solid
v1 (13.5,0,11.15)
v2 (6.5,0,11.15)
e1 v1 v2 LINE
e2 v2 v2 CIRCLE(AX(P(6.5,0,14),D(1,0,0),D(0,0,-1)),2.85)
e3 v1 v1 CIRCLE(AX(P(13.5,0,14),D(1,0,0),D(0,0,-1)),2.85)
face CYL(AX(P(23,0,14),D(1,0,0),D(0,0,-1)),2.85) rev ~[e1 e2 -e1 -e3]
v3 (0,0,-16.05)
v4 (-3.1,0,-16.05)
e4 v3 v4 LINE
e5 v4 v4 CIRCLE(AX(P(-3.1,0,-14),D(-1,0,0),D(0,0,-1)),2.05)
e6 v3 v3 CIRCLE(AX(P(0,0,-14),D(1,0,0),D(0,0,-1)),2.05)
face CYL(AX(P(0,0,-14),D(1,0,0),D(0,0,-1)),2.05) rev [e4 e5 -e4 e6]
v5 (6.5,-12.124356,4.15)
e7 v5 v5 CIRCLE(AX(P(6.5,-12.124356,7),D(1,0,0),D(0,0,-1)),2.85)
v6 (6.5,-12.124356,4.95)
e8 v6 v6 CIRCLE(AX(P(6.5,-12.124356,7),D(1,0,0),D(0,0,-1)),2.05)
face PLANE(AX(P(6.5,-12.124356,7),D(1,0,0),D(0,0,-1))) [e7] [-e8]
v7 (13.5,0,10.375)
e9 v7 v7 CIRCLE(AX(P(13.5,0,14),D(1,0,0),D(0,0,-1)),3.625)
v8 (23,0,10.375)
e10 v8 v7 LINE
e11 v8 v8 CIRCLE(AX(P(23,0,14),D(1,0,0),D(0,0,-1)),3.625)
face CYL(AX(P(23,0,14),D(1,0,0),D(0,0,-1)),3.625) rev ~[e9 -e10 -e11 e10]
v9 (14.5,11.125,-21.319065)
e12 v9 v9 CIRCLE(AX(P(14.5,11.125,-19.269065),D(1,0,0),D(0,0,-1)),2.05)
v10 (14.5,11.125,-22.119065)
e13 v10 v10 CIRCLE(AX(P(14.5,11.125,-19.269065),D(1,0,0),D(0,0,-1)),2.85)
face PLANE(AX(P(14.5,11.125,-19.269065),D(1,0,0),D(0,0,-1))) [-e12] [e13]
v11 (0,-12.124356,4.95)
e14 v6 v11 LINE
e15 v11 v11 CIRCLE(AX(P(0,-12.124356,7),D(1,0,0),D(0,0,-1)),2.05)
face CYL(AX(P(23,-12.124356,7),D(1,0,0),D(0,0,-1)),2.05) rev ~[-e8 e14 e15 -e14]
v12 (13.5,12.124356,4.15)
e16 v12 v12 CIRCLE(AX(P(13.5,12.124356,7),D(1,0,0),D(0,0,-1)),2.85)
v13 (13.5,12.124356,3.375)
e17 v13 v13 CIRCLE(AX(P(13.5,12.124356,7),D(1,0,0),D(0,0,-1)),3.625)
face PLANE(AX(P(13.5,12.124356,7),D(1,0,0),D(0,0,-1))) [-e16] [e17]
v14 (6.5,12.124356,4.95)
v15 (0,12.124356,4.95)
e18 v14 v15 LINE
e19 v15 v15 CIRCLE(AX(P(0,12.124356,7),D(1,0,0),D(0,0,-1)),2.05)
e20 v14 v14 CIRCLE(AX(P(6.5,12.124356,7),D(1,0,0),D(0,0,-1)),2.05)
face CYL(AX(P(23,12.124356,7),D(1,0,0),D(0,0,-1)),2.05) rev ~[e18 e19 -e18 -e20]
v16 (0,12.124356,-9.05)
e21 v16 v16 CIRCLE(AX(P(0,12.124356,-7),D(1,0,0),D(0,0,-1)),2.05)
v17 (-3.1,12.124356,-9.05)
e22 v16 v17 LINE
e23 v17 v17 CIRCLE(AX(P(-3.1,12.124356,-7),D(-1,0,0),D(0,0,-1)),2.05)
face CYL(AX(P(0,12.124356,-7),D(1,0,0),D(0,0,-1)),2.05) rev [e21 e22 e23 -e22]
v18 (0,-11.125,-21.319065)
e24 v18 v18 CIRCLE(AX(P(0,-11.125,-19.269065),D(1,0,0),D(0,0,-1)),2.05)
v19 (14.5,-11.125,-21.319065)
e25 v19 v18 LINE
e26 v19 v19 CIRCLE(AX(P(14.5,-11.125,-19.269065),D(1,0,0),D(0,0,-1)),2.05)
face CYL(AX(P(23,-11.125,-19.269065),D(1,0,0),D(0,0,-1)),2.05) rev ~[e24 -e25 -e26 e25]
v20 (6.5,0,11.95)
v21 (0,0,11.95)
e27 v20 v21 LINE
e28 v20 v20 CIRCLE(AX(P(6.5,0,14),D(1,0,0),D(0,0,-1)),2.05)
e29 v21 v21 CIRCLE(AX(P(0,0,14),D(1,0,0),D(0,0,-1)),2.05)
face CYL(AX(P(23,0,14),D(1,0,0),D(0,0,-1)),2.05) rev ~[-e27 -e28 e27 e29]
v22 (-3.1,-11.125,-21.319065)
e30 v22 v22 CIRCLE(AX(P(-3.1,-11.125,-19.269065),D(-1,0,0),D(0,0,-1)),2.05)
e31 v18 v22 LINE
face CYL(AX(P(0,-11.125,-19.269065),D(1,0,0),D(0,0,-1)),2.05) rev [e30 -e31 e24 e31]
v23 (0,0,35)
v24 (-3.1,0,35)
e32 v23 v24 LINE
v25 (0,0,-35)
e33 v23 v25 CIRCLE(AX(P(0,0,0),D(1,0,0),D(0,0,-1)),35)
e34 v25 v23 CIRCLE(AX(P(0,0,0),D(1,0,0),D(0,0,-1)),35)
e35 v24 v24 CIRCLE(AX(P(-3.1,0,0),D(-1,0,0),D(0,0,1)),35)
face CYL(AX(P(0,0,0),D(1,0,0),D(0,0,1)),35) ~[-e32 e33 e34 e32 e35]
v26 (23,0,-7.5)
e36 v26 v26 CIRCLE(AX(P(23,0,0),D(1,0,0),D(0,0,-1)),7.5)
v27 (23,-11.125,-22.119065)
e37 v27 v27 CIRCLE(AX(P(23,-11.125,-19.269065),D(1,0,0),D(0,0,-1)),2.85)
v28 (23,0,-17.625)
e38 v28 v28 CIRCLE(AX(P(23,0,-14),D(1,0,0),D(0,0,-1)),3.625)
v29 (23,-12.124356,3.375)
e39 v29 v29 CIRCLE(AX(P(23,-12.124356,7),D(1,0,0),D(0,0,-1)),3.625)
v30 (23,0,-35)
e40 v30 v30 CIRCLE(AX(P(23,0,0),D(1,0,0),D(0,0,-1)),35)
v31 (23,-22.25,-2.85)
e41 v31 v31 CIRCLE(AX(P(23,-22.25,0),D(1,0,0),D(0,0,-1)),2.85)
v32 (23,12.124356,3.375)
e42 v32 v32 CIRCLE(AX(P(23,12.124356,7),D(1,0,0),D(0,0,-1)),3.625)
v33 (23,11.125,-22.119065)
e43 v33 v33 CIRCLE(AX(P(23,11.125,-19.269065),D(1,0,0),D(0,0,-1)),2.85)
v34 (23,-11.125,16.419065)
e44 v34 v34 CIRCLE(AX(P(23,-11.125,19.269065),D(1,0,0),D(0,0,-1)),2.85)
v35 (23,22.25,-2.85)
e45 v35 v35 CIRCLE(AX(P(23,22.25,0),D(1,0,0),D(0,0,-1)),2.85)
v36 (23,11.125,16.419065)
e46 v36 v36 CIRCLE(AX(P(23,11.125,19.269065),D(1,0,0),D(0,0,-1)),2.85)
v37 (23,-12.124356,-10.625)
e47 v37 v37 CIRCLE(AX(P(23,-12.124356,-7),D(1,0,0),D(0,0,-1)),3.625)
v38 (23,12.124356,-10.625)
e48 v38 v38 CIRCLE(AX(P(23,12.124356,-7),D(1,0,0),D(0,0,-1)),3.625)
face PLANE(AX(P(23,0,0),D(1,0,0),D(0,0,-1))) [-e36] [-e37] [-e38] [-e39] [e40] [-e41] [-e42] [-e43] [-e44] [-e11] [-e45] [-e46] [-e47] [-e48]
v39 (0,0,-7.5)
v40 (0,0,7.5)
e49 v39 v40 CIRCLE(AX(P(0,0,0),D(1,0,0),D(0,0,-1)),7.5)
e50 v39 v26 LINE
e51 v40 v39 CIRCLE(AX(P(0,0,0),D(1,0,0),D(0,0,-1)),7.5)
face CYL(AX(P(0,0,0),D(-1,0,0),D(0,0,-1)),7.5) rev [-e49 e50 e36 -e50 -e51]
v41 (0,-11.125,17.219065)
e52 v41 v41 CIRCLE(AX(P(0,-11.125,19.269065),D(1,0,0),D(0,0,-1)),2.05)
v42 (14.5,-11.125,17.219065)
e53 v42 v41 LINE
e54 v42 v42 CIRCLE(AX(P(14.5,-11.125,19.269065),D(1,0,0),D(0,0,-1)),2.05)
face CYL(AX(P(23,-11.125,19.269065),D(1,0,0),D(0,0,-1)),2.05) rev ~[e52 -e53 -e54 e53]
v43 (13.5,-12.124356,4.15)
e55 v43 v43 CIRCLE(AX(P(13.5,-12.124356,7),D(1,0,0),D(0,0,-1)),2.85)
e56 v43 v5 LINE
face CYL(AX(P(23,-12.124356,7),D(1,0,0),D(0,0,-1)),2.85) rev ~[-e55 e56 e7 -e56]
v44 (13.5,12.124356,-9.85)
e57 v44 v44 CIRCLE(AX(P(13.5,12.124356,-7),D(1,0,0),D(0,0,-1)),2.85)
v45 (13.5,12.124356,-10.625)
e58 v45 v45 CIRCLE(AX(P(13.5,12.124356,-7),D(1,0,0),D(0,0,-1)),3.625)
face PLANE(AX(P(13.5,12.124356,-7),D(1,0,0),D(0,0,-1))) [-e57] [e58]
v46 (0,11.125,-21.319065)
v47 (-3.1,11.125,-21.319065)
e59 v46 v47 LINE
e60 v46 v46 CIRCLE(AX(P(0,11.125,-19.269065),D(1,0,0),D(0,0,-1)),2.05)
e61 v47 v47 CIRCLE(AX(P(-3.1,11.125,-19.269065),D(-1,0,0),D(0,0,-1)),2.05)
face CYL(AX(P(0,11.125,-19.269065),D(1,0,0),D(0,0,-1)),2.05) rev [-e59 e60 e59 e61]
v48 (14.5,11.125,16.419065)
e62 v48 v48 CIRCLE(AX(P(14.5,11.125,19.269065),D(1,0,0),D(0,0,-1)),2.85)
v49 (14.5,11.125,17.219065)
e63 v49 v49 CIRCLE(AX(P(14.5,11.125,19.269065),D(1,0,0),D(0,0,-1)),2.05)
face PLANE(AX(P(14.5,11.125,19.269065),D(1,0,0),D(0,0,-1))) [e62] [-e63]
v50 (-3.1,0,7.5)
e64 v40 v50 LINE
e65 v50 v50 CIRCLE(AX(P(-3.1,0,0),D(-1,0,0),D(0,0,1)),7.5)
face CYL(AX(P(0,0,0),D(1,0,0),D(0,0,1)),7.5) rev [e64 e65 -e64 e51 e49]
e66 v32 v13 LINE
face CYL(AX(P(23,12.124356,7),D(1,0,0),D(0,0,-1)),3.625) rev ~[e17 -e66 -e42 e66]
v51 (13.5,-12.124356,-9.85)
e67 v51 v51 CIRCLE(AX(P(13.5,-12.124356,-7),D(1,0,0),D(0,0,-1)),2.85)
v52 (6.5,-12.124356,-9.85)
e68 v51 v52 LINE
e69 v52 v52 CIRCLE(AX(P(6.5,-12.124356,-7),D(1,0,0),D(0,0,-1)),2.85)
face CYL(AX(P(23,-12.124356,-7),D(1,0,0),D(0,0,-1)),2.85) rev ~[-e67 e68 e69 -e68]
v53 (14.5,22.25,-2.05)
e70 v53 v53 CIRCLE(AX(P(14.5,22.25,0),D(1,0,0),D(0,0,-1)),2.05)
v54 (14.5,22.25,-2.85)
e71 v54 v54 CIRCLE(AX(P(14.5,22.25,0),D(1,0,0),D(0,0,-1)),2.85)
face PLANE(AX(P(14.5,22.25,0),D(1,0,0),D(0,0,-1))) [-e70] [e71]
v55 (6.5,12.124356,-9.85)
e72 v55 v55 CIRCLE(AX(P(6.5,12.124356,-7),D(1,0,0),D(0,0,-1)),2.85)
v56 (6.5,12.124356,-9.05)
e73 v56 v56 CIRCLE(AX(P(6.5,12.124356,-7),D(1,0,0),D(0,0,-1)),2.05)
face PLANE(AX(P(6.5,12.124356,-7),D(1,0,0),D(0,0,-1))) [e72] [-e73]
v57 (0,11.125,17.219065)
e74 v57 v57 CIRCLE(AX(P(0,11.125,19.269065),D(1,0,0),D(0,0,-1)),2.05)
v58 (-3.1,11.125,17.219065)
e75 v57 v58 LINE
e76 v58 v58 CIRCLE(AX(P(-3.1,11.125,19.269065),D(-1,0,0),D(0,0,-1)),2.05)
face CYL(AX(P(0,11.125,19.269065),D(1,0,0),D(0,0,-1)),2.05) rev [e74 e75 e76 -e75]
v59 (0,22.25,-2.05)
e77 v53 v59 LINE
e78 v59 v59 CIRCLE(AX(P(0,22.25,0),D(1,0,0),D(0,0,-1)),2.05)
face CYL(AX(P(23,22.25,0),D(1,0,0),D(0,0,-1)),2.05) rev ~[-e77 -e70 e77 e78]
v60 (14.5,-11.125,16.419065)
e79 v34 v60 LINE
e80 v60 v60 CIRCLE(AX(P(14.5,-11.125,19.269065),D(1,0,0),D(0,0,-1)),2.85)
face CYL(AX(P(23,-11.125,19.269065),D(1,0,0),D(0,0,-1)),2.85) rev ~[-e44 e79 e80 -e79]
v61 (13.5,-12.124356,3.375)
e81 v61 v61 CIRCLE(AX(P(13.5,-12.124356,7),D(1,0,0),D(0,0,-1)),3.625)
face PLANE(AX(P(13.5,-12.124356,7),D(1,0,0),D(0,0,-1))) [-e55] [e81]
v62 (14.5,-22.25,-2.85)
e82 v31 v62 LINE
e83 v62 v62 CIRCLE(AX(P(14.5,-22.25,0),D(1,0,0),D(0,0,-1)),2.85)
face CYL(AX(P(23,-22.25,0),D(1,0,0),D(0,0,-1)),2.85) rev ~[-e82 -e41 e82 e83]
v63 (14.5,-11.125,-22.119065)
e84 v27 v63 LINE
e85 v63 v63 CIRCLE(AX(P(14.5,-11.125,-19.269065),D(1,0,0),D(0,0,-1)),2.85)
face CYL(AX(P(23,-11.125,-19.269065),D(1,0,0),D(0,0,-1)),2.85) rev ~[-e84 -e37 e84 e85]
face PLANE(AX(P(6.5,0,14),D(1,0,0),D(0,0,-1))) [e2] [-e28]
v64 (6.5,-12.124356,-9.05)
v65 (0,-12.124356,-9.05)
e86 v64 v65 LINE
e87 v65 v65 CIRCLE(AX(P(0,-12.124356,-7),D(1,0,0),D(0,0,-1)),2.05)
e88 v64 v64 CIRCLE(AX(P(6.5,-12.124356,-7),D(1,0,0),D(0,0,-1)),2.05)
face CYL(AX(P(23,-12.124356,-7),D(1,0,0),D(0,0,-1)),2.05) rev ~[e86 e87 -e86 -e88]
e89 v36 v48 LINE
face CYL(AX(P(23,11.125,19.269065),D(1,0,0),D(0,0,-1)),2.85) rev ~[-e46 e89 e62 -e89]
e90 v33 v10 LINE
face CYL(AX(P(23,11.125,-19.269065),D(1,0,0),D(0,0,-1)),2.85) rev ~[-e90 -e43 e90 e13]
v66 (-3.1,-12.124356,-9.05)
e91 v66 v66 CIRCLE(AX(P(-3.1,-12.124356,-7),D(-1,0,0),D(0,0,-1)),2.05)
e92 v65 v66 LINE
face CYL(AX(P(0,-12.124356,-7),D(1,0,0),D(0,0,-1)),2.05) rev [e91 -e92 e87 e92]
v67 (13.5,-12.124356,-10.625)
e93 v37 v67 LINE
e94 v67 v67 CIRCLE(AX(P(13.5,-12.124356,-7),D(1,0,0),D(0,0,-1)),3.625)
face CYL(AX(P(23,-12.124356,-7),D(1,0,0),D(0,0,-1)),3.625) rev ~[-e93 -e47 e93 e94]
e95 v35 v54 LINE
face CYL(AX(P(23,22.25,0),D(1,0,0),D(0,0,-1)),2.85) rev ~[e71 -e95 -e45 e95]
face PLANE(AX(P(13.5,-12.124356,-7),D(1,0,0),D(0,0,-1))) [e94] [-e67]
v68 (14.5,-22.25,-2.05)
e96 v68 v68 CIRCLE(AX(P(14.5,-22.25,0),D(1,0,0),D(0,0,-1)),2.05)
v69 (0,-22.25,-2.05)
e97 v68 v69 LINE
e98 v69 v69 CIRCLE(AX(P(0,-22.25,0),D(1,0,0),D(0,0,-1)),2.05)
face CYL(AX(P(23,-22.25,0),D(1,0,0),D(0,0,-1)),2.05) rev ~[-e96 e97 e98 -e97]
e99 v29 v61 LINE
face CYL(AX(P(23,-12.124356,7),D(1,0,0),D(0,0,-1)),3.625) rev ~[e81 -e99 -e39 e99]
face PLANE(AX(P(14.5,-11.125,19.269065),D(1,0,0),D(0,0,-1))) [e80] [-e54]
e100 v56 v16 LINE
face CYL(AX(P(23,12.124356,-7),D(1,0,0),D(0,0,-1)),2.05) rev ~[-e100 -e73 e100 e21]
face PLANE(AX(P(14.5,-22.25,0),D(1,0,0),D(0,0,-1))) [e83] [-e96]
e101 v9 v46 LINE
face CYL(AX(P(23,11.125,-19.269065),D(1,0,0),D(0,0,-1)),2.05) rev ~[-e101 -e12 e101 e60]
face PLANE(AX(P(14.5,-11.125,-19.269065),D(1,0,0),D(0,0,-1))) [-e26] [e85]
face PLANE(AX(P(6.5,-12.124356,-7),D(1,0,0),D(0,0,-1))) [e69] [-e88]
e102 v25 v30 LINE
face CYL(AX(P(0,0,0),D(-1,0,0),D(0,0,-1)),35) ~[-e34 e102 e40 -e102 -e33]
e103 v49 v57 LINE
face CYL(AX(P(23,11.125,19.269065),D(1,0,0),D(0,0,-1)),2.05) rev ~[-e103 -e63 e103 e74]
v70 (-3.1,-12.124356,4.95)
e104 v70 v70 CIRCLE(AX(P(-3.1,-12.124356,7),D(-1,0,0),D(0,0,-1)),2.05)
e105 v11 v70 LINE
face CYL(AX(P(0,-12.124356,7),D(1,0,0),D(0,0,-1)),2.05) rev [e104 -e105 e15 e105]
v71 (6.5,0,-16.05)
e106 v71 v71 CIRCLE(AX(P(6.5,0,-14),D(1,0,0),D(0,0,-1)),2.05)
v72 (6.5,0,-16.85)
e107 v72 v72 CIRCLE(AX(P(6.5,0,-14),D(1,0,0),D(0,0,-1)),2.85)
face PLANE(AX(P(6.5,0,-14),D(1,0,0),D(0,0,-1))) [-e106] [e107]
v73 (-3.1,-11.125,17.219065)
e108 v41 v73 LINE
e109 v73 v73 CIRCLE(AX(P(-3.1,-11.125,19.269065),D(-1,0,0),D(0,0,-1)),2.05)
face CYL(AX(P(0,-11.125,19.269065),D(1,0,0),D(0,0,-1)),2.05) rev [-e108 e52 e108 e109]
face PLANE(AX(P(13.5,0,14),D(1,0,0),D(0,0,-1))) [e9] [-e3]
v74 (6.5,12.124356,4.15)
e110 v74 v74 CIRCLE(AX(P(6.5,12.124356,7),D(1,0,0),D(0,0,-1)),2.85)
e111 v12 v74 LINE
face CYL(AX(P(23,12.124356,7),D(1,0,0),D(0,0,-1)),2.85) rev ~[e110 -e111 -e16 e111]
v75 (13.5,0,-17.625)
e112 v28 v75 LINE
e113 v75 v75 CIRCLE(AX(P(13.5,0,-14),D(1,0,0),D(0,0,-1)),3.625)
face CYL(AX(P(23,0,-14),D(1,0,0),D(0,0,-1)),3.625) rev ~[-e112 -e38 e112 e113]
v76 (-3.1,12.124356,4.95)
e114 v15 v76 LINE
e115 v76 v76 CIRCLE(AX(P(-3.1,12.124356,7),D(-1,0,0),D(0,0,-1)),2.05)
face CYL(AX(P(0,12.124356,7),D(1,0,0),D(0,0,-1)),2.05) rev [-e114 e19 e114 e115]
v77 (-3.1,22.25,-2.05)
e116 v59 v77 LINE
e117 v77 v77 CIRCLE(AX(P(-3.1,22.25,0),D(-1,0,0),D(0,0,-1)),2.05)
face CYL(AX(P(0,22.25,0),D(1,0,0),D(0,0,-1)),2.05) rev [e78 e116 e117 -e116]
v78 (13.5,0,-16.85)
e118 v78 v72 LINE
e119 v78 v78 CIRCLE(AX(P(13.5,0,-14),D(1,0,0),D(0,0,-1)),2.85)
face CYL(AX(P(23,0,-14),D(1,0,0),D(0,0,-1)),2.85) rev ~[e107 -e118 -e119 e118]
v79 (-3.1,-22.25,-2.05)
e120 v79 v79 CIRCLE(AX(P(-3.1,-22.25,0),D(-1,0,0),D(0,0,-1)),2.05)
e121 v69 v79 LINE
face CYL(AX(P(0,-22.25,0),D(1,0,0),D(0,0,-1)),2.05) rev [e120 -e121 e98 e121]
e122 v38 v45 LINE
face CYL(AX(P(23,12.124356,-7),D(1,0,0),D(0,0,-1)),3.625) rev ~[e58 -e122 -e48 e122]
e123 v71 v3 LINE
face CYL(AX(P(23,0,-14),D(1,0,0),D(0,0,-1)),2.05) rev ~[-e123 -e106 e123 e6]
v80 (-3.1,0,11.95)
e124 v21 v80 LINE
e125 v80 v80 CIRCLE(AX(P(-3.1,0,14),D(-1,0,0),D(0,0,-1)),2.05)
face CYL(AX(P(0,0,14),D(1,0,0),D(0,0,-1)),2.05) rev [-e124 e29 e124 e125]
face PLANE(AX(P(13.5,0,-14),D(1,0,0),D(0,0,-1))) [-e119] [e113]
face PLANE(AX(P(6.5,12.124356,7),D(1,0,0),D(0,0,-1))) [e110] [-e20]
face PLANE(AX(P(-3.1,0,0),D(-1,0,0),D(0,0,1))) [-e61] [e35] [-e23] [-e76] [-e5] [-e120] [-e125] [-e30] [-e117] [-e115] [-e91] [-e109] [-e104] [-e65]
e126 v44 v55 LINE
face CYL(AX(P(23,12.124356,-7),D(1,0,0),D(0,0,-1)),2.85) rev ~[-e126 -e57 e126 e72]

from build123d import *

# Parameters (mm, degrees)
SKETCH13_R          = 35
SKETCH13_R_2        = 7.5
BOSS_EXTRUDE1_DEPTH = 23
SKETCH14_R          = 2.05
CUT_EXTRUDE1_DEPTH  = 55.580216196
SKETCH16_R          = 2.85
SKETCH16_R_2        = 2.05
CUT_EXTRUDE2_DEPTH  = 16.5
SKETCH16_4_R        = 2.85
SKETCH16_4_R_2      = 2.05
CUT_EXTRUDE3_DEPTH  = 8.5
SKETCH18_R          = 35
SKETCH18_R_2        = 7.5
SKETCH18_R_3        = 2.05
BOSS_EXTRUDE2_DEPTH = 3.1
SKETCH19_R          = 3.625
CUT_EXTRUDE4_DEPTH  = 9.5


with BuildPart() as part:
    # Sketch13 → Boss-Extrude1 (new body)
    with BuildSketch(Plane(origin=(0, 0, 0), x_dir=(0, 0, -1), z_dir=(1, 0, 0))):
        Circle(SKETCH13_R)
        Circle(SKETCH13_R_2, mode=Mode.SUBTRACT)
    extrude(amount=BOSS_EXTRUDE1_DEPTH)

    # Sketch14 → Cut-Extrude1 (cut, through all)
    with BuildSketch(Plane(origin=(23, 0, 0), x_dir=(0, 0, -1), z_dir=(1, 0, 0))):
        with Locations((14, 0)):
            Circle(SKETCH14_R)
        with Locations((19.269065234, -11.125)):
            Circle(SKETCH14_R)
        with Locations((7, 12.124355653)):
            Circle(SKETCH14_R)
        with Locations((19.269065234, 11.125)):
            Circle(SKETCH14_R)
        with Locations((-7, 12.124355653)):
            Circle(SKETCH14_R)
        with Locations((0, 22.25)):
            Circle(SKETCH14_R)
        with Locations((-14, 0)):
            Circle(SKETCH14_R)
        with Locations((-19.269065234, 11.125)):
            Circle(SKETCH14_R)
        with Locations((-7, -12.124355653)):
            Circle(SKETCH14_R)
        with Locations((-19.269065234, -11.125)):
            Circle(SKETCH14_R)
        with Locations((7, -12.124355653)):
            Circle(SKETCH14_R)
        with Locations((0, -22.25)):
            Circle(SKETCH14_R)
    extrude(amount=-CUT_EXTRUDE1_DEPTH, mode=Mode.SUBTRACT)

    # Sketch16 → Cut-Extrude2 (cut)
    # profile 1 of 6: a face of its own
    with BuildSketch(Plane(origin=(23, 0, 0), x_dir=(0, 0, -1), z_dir=(1, 0, 0))):
        with Locations((-14, 0)):
            Circle(SKETCH16_R)
    # profile 2 of 6: a face of its own
    with BuildSketch(Plane(origin=(23, 0, 0), x_dir=(0, 0, -1), z_dir=(1, 0, 0))):
        with Locations((-7, -12.124355653)):
            Circle(SKETCH16_R)
    # profile 3 of 6: a face of its own
    with BuildSketch(Plane(origin=(23, 0, 0), x_dir=(0, 0, -1), z_dir=(1, 0, 0))):
        with Locations((7, -12.124355653)):
            Circle(SKETCH16_R)
    # profile 4 of 6: a face of its own
    with BuildSketch(Plane(origin=(23, 0, 0), x_dir=(0, 0, -1), z_dir=(1, 0, 0))):
        with Locations((14, 0)):
            Circle(SKETCH16_R)
        with Locations((14, 0)):
            Circle(SKETCH16_R_2, mode=Mode.SUBTRACT)
    # profile 5 of 6: a face of its own
    with BuildSketch(Plane(origin=(23, 0, 0), x_dir=(0, 0, -1), z_dir=(1, 0, 0))):
        with Locations((7, 12.124355653)):
            Circle(SKETCH16_R)
    # profile 6 of 6: a face of its own
    with BuildSketch(Plane(origin=(23, 0, 0), x_dir=(0, 0, -1), z_dir=(1, 0, 0))):
        with Locations((-7, 12.124355653)):
            Circle(SKETCH16_R)
    extrude(amount=-CUT_EXTRUDE2_DEPTH, mode=Mode.SUBTRACT)

    # Sketch16<4> → Cut-Extrude3 (cut)
    # profile 1 of 6: a face of its own
    with BuildSketch(Plane(origin=(23, 0, 0), x_dir=(0, 0, -1), z_dir=(1, 0, 0))):
        with Locations((-19.269065234, -11.125)):
            Circle(SKETCH16_4_R)
    # profile 2 of 6: a face of its own
    with BuildSketch(Plane(origin=(23, 0, 0), x_dir=(0, 0, -1), z_dir=(1, 0, 0))):
        with Locations((0, -22.25)):
            Circle(SKETCH16_4_R)
        with Locations((0, -22.25)):
            Circle(SKETCH16_4_R_2, mode=Mode.SUBTRACT)
    # profile 3 of 6: a face of its own
    with BuildSketch(Plane(origin=(23, 0, 0), x_dir=(0, 0, -1), z_dir=(1, 0, 0))):
        with Locations((19.269065234, -11.125)):
            Circle(SKETCH16_4_R)
    # profile 4 of 6: a face of its own
    with BuildSketch(Plane(origin=(23, 0, 0), x_dir=(0, 0, -1), z_dir=(1, 0, 0))):
        with Locations((19.269065234, 11.125)):
            Circle(SKETCH16_4_R)
        with Locations((19.269065234, 11.125)):
            Circle(SKETCH16_4_R_2, mode=Mode.SUBTRACT)
    # profile 5 of 6: a face of its own
    with BuildSketch(Plane(origin=(23, 0, 0), x_dir=(0, 0, -1), z_dir=(1, 0, 0))):
        with Locations((0, 22.25)):
            Circle(SKETCH16_4_R)
    # profile 6 of 6: a face of its own
    with BuildSketch(Plane(origin=(23, 0, 0), x_dir=(0, 0, -1), z_dir=(1, 0, 0))):
        with Locations((-19.269065234, 11.125)):
            Circle(SKETCH16_4_R)
    extrude(amount=-CUT_EXTRUDE3_DEPTH, mode=Mode.SUBTRACT)

    # Sketch18 → Boss-Extrude2 (add)
    with BuildSketch(Plane.ZY):
        Circle(SKETCH18_R)
        Circle(SKETCH18_R_2, mode=Mode.SUBTRACT)
        with Locations((-14, 0)):
            Circle(SKETCH18_R_3, mode=Mode.SUBTRACT)
        with Locations((-19.269065234, 11.125)):
            Circle(SKETCH18_R_3, mode=Mode.SUBTRACT)
        with Locations((-7, 12.124355653)):
            Circle(SKETCH18_R_3, mode=Mode.SUBTRACT)
        with Locations((0, 22.25)):
            Circle(SKETCH18_R_3, mode=Mode.SUBTRACT)
        with Locations((7, 12.124355653)):
            Circle(SKETCH18_R_3, mode=Mode.SUBTRACT)
        with Locations((19.269065234, 11.125)):
            Circle(SKETCH18_R_3, mode=Mode.SUBTRACT)
        with Locations((14, 0)):
            Circle(SKETCH18_R_3, mode=Mode.SUBTRACT)
        with Locations((19.269065234, -11.125)):
            Circle(SKETCH18_R_3, mode=Mode.SUBTRACT)
        with Locations((7, -12.124355653)):
            Circle(SKETCH18_R_3, mode=Mode.SUBTRACT)
        with Locations((0, -22.25)):
            Circle(SKETCH18_R_3, mode=Mode.SUBTRACT)
        with Locations((-7, -12.124355653)):
            Circle(SKETCH18_R_3, mode=Mode.SUBTRACT)
        with Locations((-19.269065234, -11.125)):
            Circle(SKETCH18_R_3, mode=Mode.SUBTRACT)
    extrude(amount=BOSS_EXTRUDE2_DEPTH)

    # Sketch19 → Cut-Extrude4 (cut)
    with BuildSketch(Plane(origin=(23, 0, 0), x_dir=(0, 0, -1), z_dir=(1, 0, 0))):
        with Locations((-7, 12.124355653)):
            Circle(SKETCH19_R)
        with Locations((7, 12.124355653)):
            Circle(SKETCH19_R)
        with Locations((14, 0)):
            Circle(SKETCH19_R)
        with Locations((7, -12.124355653)):
            Circle(SKETCH19_R)
        with Locations((-7, -12.124355653)):
            Circle(SKETCH19_R)
        with Locations((-14, 0)):
            Circle(SKETCH19_R)
    extrude(amount=-CUT_EXTRUDE4_DEPTH, mode=Mode.SUBTRACT)


solid = part.part
